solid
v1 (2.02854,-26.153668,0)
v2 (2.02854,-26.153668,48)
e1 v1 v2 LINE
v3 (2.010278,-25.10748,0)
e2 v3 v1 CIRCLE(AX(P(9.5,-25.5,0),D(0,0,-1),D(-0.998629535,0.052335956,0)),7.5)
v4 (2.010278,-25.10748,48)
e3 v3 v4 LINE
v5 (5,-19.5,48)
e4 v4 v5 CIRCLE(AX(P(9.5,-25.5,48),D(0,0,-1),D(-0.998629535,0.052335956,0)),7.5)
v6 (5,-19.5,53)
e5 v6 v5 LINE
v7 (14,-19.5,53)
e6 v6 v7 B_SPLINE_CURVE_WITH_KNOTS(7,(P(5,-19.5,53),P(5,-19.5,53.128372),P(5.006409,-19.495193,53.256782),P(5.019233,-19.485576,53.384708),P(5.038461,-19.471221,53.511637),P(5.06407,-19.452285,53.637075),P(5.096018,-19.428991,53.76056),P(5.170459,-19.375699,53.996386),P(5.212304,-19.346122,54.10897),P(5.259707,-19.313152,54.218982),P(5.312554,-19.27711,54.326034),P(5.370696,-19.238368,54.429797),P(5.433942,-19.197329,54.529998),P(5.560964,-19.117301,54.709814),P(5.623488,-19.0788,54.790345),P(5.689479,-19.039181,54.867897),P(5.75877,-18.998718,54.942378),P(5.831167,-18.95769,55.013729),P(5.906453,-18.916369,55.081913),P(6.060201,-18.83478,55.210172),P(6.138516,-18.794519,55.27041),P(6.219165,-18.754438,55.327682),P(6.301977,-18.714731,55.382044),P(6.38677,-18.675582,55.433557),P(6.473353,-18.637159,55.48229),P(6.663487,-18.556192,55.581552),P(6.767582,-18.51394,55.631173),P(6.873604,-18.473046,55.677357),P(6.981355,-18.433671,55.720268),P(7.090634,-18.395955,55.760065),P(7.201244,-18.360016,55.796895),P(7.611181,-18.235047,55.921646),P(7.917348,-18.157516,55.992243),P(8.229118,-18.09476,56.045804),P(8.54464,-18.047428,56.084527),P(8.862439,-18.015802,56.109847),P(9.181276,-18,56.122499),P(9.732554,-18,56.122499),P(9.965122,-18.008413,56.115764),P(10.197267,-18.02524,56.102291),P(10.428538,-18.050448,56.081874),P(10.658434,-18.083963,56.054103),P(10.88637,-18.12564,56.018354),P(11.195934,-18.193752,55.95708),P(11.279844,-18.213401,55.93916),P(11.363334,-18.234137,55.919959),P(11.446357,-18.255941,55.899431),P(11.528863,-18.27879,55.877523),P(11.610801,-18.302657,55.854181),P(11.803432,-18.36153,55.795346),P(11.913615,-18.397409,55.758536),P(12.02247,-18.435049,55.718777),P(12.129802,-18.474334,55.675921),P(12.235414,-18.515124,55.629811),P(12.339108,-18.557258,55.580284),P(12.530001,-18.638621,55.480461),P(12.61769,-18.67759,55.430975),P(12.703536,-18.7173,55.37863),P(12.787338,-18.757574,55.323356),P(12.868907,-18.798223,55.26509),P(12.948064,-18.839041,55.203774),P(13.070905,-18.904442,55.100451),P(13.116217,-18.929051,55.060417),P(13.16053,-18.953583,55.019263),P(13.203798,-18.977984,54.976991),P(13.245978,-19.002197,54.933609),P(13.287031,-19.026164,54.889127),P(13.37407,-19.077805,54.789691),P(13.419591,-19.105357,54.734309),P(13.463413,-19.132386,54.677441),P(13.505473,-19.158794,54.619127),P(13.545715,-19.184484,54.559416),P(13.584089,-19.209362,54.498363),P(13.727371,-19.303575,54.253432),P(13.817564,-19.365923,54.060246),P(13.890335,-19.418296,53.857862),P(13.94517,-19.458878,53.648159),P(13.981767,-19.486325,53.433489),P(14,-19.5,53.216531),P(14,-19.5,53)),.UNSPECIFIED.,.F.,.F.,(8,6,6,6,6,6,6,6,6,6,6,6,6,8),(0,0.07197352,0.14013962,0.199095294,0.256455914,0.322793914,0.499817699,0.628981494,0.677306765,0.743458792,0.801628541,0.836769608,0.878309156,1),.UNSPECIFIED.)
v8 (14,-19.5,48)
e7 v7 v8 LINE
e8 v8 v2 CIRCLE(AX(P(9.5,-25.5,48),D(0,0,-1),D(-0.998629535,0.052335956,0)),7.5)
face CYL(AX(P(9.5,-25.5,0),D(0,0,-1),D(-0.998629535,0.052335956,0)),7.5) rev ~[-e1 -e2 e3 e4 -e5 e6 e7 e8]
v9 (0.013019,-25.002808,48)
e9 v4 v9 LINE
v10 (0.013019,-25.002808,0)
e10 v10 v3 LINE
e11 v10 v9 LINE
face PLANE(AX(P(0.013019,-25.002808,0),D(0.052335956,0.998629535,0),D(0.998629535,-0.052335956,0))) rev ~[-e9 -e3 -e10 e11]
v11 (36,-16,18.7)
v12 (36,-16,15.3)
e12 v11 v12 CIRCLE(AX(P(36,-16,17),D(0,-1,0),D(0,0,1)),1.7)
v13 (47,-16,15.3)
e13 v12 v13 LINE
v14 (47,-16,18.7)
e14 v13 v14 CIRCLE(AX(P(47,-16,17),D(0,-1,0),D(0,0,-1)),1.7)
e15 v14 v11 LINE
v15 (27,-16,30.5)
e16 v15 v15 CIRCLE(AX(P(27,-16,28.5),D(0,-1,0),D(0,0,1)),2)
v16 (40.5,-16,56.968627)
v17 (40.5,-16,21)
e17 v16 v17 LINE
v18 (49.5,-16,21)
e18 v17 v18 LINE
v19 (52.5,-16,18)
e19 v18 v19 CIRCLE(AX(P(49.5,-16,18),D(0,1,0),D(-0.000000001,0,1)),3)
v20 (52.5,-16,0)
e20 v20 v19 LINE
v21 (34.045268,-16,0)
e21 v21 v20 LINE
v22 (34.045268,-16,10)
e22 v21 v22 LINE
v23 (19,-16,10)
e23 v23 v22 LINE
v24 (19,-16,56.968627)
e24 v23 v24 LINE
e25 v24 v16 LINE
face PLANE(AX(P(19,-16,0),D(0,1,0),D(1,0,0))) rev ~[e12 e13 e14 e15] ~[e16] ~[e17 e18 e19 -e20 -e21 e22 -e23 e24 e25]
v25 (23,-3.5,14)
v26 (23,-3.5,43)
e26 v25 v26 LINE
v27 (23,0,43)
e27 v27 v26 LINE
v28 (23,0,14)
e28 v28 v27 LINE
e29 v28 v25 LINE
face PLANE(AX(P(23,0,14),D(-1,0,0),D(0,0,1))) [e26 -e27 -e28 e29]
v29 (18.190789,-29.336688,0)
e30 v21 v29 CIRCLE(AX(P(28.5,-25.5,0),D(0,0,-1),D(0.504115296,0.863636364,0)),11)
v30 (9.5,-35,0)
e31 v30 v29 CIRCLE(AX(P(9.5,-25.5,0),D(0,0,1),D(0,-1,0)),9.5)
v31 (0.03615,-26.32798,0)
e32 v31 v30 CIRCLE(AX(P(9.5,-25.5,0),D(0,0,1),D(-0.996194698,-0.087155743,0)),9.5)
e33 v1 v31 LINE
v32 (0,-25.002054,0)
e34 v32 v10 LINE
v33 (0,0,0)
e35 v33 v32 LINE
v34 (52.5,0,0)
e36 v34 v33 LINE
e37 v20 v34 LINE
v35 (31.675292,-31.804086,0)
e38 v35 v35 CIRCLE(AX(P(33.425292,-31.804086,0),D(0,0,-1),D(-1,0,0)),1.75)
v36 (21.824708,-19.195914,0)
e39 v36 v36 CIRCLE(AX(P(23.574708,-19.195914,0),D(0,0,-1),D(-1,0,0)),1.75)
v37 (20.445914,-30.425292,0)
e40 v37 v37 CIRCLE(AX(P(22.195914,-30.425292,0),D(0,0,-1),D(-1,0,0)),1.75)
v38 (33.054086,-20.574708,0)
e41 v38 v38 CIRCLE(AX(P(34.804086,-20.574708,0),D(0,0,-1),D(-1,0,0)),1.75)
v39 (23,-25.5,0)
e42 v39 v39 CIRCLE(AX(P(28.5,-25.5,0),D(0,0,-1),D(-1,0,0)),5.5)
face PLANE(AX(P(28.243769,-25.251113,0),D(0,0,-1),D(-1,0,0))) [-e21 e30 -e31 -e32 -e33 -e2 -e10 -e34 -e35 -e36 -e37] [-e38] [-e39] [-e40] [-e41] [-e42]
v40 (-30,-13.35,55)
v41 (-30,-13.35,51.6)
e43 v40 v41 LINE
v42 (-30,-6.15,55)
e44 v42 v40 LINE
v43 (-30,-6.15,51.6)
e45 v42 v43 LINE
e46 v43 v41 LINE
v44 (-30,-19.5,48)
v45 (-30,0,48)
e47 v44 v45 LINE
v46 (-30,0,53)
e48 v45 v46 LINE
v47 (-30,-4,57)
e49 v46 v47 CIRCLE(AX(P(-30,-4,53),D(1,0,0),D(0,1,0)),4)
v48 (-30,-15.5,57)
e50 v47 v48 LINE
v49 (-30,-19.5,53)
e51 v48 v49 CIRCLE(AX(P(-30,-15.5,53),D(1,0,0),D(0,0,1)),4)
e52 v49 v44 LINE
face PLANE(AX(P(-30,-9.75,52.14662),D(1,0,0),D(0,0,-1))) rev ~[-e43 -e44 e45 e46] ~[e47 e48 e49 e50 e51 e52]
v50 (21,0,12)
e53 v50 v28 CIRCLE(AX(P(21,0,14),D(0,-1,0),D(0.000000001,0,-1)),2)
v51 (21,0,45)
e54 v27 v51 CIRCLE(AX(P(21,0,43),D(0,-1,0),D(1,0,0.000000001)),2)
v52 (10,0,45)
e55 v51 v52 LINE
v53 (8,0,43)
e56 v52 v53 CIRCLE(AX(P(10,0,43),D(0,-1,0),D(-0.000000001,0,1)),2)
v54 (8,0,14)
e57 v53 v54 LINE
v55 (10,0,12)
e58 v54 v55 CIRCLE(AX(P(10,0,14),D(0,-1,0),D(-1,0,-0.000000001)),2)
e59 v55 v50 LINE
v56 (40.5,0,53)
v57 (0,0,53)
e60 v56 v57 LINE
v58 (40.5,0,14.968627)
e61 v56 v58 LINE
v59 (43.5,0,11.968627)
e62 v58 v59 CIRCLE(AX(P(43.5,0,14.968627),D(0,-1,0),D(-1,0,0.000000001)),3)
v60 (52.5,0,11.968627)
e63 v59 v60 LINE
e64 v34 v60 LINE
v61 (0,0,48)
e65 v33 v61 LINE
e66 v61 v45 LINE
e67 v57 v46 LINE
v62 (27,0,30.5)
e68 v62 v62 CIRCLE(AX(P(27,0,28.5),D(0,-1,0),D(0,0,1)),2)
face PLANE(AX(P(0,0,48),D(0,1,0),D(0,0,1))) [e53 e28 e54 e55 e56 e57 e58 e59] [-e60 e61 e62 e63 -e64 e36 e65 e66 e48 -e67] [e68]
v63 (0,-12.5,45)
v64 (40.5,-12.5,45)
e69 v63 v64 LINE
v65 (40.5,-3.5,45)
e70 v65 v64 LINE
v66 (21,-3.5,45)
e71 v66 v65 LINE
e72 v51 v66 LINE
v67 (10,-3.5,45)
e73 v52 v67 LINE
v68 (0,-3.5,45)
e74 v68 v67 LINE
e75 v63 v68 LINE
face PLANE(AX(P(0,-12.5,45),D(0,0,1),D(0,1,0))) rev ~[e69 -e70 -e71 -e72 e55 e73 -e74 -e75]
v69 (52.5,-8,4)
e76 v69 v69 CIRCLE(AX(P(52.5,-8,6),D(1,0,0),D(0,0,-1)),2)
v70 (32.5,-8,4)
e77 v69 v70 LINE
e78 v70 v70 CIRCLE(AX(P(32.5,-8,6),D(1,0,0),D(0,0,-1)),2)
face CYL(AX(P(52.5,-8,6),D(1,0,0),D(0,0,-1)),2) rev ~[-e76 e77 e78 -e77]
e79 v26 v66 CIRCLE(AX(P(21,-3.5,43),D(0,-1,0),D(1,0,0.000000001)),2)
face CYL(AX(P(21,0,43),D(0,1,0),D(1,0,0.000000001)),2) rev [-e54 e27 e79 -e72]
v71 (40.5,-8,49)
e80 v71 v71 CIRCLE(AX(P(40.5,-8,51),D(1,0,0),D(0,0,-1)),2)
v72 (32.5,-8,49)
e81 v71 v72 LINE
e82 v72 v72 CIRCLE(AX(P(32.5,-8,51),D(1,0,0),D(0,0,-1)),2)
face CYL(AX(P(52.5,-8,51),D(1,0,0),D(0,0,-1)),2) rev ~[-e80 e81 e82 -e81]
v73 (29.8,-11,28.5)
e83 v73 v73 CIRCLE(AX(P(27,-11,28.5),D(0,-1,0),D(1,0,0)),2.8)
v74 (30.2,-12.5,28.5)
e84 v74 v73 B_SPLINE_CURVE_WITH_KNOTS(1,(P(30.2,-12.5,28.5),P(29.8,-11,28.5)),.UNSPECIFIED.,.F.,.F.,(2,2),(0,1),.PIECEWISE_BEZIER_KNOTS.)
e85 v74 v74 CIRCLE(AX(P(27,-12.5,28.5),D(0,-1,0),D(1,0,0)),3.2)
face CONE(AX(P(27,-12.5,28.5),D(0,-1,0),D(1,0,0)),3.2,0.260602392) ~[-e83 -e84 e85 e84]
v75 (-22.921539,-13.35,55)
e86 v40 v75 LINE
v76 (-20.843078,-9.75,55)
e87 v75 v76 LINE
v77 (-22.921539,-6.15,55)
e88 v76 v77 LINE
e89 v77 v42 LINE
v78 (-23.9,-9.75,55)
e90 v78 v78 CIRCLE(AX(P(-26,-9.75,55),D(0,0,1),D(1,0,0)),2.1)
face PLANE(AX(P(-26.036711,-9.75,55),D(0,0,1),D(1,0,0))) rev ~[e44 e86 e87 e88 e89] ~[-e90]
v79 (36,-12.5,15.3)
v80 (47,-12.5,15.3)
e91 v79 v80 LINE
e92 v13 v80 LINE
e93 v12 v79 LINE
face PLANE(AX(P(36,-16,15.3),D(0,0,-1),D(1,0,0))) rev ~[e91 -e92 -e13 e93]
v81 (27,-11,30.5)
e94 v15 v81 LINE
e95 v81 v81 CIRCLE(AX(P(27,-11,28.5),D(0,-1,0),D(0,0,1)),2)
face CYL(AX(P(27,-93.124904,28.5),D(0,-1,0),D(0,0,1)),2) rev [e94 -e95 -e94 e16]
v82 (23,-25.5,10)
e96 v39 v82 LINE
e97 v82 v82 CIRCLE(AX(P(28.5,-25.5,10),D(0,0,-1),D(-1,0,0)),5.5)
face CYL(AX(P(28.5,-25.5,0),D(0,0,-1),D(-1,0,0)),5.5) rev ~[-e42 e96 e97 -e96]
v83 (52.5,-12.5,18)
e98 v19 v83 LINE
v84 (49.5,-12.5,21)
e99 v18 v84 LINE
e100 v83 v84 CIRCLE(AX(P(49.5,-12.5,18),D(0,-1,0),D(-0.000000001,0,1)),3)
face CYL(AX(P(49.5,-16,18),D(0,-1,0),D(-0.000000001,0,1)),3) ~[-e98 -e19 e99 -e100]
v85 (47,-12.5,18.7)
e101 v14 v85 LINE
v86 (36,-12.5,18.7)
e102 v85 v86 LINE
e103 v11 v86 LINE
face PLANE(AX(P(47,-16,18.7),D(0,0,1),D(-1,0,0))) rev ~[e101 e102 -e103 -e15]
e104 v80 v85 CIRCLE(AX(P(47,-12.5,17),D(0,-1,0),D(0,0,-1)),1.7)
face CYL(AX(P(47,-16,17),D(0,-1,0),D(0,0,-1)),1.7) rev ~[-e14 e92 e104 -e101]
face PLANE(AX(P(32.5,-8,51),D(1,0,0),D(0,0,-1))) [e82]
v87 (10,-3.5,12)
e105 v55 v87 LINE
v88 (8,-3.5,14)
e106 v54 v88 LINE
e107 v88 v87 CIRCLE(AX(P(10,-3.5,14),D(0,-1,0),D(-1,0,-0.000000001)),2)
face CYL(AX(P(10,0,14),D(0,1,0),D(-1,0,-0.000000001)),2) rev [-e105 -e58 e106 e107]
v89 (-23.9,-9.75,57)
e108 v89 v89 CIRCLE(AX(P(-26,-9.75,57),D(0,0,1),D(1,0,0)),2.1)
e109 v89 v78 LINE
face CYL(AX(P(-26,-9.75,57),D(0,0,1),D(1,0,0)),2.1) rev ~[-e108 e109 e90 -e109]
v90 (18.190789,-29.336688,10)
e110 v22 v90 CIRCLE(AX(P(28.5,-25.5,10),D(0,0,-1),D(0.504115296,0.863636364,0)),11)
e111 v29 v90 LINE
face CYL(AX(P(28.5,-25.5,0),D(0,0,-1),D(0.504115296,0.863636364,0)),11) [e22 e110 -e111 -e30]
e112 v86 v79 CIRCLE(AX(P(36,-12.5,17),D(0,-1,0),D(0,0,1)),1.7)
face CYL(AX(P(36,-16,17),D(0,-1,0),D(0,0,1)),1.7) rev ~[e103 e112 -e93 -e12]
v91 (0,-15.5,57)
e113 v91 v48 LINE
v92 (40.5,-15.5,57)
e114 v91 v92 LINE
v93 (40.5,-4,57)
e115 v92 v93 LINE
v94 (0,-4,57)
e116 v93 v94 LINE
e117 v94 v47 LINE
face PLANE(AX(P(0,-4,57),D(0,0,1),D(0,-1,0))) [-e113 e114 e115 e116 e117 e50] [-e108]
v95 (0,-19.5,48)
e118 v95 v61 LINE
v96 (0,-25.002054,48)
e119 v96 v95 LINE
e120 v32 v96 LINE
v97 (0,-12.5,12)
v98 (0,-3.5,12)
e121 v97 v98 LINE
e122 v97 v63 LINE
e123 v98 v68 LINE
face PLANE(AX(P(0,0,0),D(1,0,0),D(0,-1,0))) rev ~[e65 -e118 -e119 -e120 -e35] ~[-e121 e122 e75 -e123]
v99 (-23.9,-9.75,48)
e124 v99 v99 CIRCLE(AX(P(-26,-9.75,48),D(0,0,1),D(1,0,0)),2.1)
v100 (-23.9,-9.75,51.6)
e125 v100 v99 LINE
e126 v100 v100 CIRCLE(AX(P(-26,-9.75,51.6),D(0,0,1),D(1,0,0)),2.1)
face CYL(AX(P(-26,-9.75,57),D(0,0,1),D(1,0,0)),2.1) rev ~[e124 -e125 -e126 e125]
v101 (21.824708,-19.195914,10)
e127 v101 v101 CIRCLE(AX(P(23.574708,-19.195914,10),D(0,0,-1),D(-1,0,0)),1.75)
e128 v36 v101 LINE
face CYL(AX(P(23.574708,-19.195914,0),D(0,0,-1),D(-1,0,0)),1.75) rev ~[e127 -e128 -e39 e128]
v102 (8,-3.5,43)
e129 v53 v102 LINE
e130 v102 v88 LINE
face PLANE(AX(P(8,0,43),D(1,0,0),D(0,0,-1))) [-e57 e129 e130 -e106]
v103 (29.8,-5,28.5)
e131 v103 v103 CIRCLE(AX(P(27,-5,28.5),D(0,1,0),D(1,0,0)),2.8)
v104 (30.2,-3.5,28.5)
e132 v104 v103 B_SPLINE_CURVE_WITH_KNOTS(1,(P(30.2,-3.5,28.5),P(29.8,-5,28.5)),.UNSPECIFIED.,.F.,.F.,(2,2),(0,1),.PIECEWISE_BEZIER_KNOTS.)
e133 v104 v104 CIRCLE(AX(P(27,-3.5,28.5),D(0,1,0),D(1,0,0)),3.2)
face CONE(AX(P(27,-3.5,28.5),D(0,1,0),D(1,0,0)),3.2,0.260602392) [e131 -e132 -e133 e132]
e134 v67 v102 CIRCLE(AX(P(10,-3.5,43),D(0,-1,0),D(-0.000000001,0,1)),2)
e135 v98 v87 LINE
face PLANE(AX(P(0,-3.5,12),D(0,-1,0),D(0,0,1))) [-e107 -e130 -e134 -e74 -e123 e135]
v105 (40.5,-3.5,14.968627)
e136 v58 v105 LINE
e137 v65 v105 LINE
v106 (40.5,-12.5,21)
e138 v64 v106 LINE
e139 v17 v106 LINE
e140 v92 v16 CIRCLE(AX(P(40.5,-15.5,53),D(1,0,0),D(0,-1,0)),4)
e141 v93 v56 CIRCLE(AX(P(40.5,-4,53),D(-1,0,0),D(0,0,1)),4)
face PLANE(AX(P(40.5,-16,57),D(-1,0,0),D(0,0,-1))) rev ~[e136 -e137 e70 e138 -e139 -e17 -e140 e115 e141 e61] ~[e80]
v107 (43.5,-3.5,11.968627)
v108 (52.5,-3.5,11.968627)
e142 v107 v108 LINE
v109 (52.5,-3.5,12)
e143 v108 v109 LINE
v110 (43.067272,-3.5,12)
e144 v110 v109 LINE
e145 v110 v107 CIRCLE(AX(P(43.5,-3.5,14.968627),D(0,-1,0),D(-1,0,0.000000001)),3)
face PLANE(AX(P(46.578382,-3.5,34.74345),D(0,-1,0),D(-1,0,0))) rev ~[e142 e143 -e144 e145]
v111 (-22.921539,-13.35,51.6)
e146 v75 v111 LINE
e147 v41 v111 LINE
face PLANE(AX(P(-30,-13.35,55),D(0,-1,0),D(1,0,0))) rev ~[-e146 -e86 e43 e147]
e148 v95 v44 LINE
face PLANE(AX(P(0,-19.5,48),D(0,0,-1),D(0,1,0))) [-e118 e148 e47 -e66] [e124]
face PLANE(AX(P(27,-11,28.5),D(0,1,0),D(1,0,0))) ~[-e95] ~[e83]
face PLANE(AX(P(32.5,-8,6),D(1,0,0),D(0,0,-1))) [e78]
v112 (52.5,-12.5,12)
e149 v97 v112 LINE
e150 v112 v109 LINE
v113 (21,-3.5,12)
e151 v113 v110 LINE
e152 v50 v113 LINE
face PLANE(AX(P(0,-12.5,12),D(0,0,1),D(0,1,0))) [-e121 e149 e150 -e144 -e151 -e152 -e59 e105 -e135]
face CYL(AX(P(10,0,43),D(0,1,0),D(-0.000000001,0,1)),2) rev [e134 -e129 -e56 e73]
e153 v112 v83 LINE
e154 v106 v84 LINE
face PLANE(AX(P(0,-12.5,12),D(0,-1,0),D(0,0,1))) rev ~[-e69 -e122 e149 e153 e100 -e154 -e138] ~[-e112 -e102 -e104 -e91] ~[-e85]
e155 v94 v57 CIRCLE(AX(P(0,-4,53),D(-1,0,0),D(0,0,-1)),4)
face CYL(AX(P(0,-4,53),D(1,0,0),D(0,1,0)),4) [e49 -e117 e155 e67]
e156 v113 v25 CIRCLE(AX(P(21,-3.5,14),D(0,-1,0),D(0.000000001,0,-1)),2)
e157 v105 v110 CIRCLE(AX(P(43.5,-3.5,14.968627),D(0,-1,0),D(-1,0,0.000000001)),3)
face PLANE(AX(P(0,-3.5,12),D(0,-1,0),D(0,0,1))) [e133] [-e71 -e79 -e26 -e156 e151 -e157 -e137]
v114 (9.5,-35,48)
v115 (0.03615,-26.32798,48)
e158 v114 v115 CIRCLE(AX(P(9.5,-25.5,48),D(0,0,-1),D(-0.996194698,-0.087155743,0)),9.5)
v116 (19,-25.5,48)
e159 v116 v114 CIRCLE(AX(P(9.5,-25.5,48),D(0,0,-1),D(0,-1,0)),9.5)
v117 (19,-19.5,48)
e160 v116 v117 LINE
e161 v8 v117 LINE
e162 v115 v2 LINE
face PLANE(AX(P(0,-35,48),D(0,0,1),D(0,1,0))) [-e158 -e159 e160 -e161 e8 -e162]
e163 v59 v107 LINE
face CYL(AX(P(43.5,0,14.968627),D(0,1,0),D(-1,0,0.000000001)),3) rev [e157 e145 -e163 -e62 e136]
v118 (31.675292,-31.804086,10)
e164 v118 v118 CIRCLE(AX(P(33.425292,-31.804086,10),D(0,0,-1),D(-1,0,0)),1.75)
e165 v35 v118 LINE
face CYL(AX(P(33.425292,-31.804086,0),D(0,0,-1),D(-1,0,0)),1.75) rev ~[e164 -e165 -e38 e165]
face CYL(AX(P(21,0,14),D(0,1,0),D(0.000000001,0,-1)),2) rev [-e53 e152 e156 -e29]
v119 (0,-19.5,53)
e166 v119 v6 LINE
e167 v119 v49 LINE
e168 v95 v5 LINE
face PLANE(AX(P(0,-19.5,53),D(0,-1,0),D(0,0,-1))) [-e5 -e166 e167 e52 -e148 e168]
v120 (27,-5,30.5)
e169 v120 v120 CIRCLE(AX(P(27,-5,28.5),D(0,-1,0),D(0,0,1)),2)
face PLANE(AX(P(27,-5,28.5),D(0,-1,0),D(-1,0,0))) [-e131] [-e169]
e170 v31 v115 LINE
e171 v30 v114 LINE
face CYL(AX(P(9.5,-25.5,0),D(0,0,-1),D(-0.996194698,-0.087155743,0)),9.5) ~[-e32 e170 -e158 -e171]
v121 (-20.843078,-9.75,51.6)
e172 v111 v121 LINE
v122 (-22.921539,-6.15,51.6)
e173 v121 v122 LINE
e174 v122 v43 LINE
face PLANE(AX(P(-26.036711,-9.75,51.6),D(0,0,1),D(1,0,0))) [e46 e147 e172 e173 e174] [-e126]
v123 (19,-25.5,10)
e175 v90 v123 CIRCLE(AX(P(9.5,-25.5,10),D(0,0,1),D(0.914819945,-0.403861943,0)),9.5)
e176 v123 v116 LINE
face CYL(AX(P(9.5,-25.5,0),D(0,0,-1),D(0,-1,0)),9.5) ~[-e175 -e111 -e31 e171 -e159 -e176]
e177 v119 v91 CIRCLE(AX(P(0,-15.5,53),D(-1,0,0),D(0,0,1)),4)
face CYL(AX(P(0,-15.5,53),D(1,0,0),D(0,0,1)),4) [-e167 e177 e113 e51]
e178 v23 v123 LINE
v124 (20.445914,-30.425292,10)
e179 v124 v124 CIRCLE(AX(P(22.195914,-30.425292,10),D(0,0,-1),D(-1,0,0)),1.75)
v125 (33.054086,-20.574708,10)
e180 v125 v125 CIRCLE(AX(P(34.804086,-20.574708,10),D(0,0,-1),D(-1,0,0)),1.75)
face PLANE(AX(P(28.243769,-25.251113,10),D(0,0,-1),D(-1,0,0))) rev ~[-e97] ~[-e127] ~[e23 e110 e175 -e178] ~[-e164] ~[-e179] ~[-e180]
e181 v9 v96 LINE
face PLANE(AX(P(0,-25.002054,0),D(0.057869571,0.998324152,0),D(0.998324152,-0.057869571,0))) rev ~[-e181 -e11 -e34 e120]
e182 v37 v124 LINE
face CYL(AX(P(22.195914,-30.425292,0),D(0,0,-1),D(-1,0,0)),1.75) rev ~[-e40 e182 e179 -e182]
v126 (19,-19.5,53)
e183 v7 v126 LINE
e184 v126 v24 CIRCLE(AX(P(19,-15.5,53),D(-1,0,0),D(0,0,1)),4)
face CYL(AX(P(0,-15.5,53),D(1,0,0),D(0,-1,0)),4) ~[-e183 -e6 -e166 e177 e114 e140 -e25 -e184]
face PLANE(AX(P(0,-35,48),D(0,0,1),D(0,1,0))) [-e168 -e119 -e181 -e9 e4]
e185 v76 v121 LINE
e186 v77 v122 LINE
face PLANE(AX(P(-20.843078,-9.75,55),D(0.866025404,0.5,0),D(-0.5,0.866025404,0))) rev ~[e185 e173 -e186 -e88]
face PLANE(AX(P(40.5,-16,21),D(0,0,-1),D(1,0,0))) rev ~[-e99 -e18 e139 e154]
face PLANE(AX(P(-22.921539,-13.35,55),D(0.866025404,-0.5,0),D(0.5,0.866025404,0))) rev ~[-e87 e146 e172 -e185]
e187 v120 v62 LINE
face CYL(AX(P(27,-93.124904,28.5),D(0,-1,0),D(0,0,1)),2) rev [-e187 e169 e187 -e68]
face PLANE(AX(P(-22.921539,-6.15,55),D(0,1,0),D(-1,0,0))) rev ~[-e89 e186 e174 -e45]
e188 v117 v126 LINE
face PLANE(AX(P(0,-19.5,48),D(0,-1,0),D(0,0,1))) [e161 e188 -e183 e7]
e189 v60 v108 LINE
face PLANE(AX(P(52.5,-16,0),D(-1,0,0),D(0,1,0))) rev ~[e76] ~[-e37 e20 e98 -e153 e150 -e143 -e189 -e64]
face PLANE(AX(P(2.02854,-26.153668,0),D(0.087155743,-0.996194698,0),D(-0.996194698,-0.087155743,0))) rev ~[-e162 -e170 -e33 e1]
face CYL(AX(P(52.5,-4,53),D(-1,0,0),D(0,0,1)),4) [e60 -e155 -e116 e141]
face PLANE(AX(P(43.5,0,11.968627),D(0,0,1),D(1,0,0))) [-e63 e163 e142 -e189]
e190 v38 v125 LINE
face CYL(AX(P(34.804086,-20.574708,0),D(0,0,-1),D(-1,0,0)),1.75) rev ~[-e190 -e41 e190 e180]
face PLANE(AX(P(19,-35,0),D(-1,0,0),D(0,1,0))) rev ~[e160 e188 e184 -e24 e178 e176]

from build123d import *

# Parameters (mm, degrees)
BOSS_EXTRUDE1_DEPTH     = 57
SKETCH3_W               = 33
SKETCH3_H               = 9
SKETCH3_W_2             = 9
SKETCH3_H_2             = 15.5
CUT_EXTRUDE2_DEPTH      = 86.030876745
FILLET1_R               = 4
CUT_EXTRUDE3_DEPTH      = 86.030876745
CUT_EXTRUDE4_REACH      = 81.789
CUT_EXTRUDE5_DEPTH      = 3.5
SKETCH9_R               = 3.2
SKETCH10_R              = 2.8
CUT_EXTRUDE6_DEPTH      = 82.124903768
CUT_EXTRUDE6_DEPTH_BACK = 82.124903768
SKETCH11_R              = 2
SKETCH13_R              = 2
CUT_EXTRUDE7_DEPTH      = 20
SKETCH14_R              = 1.75
SKETCH14_R_2            = 5.5
BOSS_EXTRUDE2_DEPTH     = 10
BOSS_EXTRUDE3_DEPTH     = 30
SKETCH16_R              = 2.1
CUT_EXTRUDE8_DEPTH      = 3.4
SKETCH18_R              = 2.1
CUT_EXTRUDE9_DEPTH      = 9


with BuildPart() as part:
    # Sketch1 → Boss-Extrude1 (new body)
    with BuildSketch(Plane.XY):
        Polygon((0, 0), (0, -35), (19, -35), (19, -16), (52.5, -16), (52.5, 0), align=None)
    extrude(amount=BOSS_EXTRUDE1_DEPTH)

    # Sketch3 → Cut-Extrude2 (cut, through all)
    with BuildSketch(Plane.ZY):
        with Locations((28.5, -8)):
            Rectangle(SKETCH3_W, SKETCH3_H)
        with Locations((52.5, -27.25)):
            Rectangle(SKETCH3_W_2, SKETCH3_H_2)
    extrude(amount=-CUT_EXTRUDE2_DEPTH, mode=Mode.SUBTRACT)

    # Fillet1
    fillet1_edges = [part.edges().sort_by_distance(p)[0] for p in [
        (26.25, 0, 57),
        (9.5, -19.5, 57),
    ]]
    fillet(fillet1_edges, radius=FILLET1_R)

    # Sketch4 → Cut-Extrude3 (cut, through all)
    with BuildSketch(Plane(origin=(0, 0, 0), x_dir=(-1, 0, 0), z_dir=(0, 0, -1))):
        with BuildLine():
            Line((-0.01301942, -25.002808416), (-2.010278489, -25.107480328))
            ThreePointArc((-2.010278489, -25.107480328), (-16.998857714, -25.369106952), (-2.028539764, -26.153668071))
            Line((-2.028539764, -26.153668071), (-0.036150368, -26.327979556))
            ThreePointArc((-0.036150368, -26.327979556), (-3.081893028, -32.5041347), (-9.5, -35))
            Line((-9.5, -35), (0, -35))
            Line((0, -35), (0, -25.002053723))
            Line((0, -25.002053723), (-0.01301942, -25.002808416))
        make_face()
        with BuildLine():
            ThreePointArc((-9.5, -35), (-16.217514421, -32.217514421), (-19, -25.5))
            Line((-19, -25.5), (-19, -35))
            Line((-19, -35), (-9.5, -35))
        make_face()
    extrude(amount=-CUT_EXTRUDE3_DEPTH, mode=Mode.SUBTRACT)

    # Cut-Extrude4: up to this face of the body (flat: up to its plane)
    cut_extrude4_end = Plane(part.part.faces().sort_by_distance((26.25, -3.5, 28.5))[0])
    # Sketch5 → Cut-Extrude4 (cut, up to the picked face)
    with BuildSketch(Plane.XZ.offset(16), mode=Mode.PRIVATE) as cut_extrude4_sk1:
        with BuildLine():
            Line((47, 18.7), (36, 18.7))
            ThreePointArc((36, 18.7), (34.3, 17), (36, 15.3))
            Line((36, 15.3), (47, 15.3))
            ThreePointArc((47, 15.3), (48.7, 17), (47, 18.7))
        make_face()
    cut_extrude4_tool1 = split(extrude(cut_extrude4_sk1.sketch, amount=-CUT_EXTRUDE4_REACH, mode=Mode.PRIVATE), bisect_by=cut_extrude4_end, keep=Keep.BOTH, mode=Mode.PRIVATE)
    # Sketch5 → Cut-Extrude4 (cut, up to the picked face)
    with BuildSketch(Plane.XZ.offset(16), mode=Mode.PRIVATE) as cut_extrude4_sk2:
        with BuildLine():
            Line((40.5, 21), (49.5, 21))
            ThreePointArc((49.5, 21), (51.621320344, 20.121320344), (52.5, 18))
            Line((52.5, 18), (52.5, 57))
            Line((52.5, 57), (40.5, 57))
            Line((40.5, 57), (40.5, 21))
        make_face()
    cut_extrude4_tool2 = split(extrude(cut_extrude4_sk2.sketch, amount=-CUT_EXTRUDE4_REACH, mode=Mode.PRIVATE), bisect_by=cut_extrude4_end, keep=Keep.BOTH, mode=Mode.PRIVATE)
    add(cut_extrude4_tool1.solids().sort_by(Axis((41.5, -16, 17), (0, 1, 0)))[0], mode=Mode.SUBTRACT)
    add(cut_extrude4_tool2.solids().sort_by(Axis((46.523723, -16, 38.9169), (0, 1, 0)))[0], mode=Mode.SUBTRACT)

    # Sketch6 → Cut-Extrude5 (cut)
    with BuildSketch(Plane(origin=(0, 0, 0), x_dir=(1, 0, 0), z_dir=(0, 1, 0))):
        with BuildLine():
            Line((10, -12), (21, -12))
            ThreePointArc((21, -12), (22.414213562, -12.585786438), (23, -14))
            Line((23, -14), (23, -43))
            ThreePointArc((23, -43), (22.414213562, -44.414213562), (21, -45))
            Line((21, -45), (10, -45))
            ThreePointArc((10, -45), (8.585786438, -44.414213562), (8, -43))
            Line((8, -43), (8, -14))
            ThreePointArc((8, -14), (8.585786438, -12.585786438), (10, -12))
        make_face()
        with BuildLine():
            Line((43.5, -11.968626967), (52.5, -11.968626967))
            Line((52.5, -11.968626967), (52.5, -56.968626967))
            Line((52.5, -56.968626967), (40.5, -56.968626967))
            Line((40.5, -56.968626967), (40.5, -14.968626967))
            ThreePointArc((40.5, -14.968626967), (41.378679656, -12.847306623), (43.5, -11.968626967))
        make_face()
    extrude(amount=-CUT_EXTRUDE5_DEPTH, mode=Mode.SUBTRACT)

    # Sketch9 → Loft1 section 0
    with BuildSketch(Plane.XZ.offset(3.5)):
        with Locations((27, 28.5)):
            Circle(SKETCH9_R)
    # Sketch10 → Loft1 section 1
    with BuildSketch(Plane(origin=(0, -5, 0), x_dir=(-1, 0, 0), z_dir=(0, -1, 0))):
        with Locations((-27, -28.5)):
            Circle(SKETCH10_R)
    loft1 = loft()

    # Mirror2: Loft1 across plane
    add(loft1.mirror(Plane(origin=(0, -8, 0), x_dir=(0, 0, 1), z_dir=(0, -1, 0))))

    # Sketch11 → Cut-Extrude6 (cut, two sides: drawn at the far end of the back side and taken through both)
    with BuildSketch(Plane(origin=(0, -11, 0), x_dir=(1, 0, 0), z_dir=(0, 1, 0)).offset(-CUT_EXTRUDE6_DEPTH_BACK)):
        with Locations(Location((27, -28.5, 0), (0, 0, 270))):
            Circle(SKETCH11_R)
    extrude(amount=CUT_EXTRUDE6_DEPTH + CUT_EXTRUDE6_DEPTH_BACK, mode=Mode.SUBTRACT)

    # Sketch13 → Cut-Extrude7 (cut)
    with BuildSketch(Plane(origin=(52.5, 0, 0), x_dir=(0, 0, -1), z_dir=(1, 0, 0))):
        with Locations((-6, -8)):
            Circle(SKETCH13_R)
        with Locations((-51, -8)):
            Circle(SKETCH13_R)
    extrude(amount=-CUT_EXTRUDE7_DEPTH, mode=Mode.SUBTRACT)

    # Sketch14 → Boss-Extrude2 (add)
    # profile 1 of 2: a face of its own
    with BuildSketch(Plane(origin=(0, 0, 0), x_dir=(-1, 0, 0), z_dir=(0, 0, -1))):
        with BuildLine():
            ThreePointArc((-19, -19.954731747), (-20.721825407, -17.721825407), (-22.954731747, -16))
            Line((-22.954731747, -16), (-34.045268253, -16))
            ThreePointArc((-34.045268253, -16), (-35.581002842, -33.917802489), (-18.190789474, -29.336688458))
            ThreePointArc((-18.190789474, -29.336688458), (-18.795496221, -27.460548393), (-19, -25.5))
            Line((-19, -25.5), (-19, -19.954731747))
        make_face()
        with Locations((-33.425291803, -31.804086029)):
            Circle(SKETCH14_R, mode=Mode.SUBTRACT)
        with Locations((-22.195913971, -30.425291803)):
            Circle(SKETCH14_R, mode=Mode.SUBTRACT)
        with Locations((-34.804086029, -20.574708197)):
            Circle(SKETCH14_R, mode=Mode.SUBTRACT)
        with Locations((-28.5, -25.5)):
            Circle(SKETCH14_R_2, mode=Mode.SUBTRACT)
        with Locations((-23.574708197, -19.195913971)):
            Circle(SKETCH14_R, mode=Mode.SUBTRACT)
    # profile 2 of 2: a face of its own
    with BuildSketch(Plane(origin=(0, 0, 0), x_dir=(-1, 0, 0), z_dir=(0, 0, -1))):
        with BuildLine():
            Line((-19, -16), (-22.954731747, -16))
            ThreePointArc((-22.954731747, -16), (-20.721825407, -17.721825407), (-19, -19.954731747))
            Line((-19, -19.954731747), (-19, -16))
        make_face()
    extrude(amount=-BOSS_EXTRUDE2_DEPTH)

    # Sketch15 → Boss-Extrude3 (add)
    with BuildSketch(Plane.ZY):
        with BuildLine():
            Line((53, -19.5), (48, -19.5))
            Line((48, -19.5), (48, 0))
            Line((48, 0), (53, 0))
            ThreePointArc((53, 0), (55.828427125, -1.171572875), (57, -4))
            Line((57, -4), (57, -15.5))
            ThreePointArc((57, -15.5), (55.828427125, -18.328427125), (53, -19.5))
        make_face()
    extrude(amount=BOSS_EXTRUDE3_DEPTH)

    # Sketch16 → Cut-Extrude8 (cut)
    with BuildSketch(Plane.XY.offset(55)):
        Polygon((-30, -13.35), (-22.921539031, -13.35), (-20.843078062, -9.75), (-22.921539031, -6.15), (-30, -6.15), align=None)
        with Locations((-26, -9.75)):
            Circle(SKETCH16_R, mode=Mode.SUBTRACT)
    extrude(amount=-CUT_EXTRUDE8_DEPTH, mode=Mode.SUBTRACT)

    # Sketch18 → Cut-Extrude9 (cut)
    with BuildSketch(Plane.XY.offset(57)):
        with Locations((-26, -9.75)):
            Circle(SKETCH18_R)
    extrude(amount=-CUT_EXTRUDE9_DEPTH, mode=Mode.SUBTRACT)


solid = part.part
